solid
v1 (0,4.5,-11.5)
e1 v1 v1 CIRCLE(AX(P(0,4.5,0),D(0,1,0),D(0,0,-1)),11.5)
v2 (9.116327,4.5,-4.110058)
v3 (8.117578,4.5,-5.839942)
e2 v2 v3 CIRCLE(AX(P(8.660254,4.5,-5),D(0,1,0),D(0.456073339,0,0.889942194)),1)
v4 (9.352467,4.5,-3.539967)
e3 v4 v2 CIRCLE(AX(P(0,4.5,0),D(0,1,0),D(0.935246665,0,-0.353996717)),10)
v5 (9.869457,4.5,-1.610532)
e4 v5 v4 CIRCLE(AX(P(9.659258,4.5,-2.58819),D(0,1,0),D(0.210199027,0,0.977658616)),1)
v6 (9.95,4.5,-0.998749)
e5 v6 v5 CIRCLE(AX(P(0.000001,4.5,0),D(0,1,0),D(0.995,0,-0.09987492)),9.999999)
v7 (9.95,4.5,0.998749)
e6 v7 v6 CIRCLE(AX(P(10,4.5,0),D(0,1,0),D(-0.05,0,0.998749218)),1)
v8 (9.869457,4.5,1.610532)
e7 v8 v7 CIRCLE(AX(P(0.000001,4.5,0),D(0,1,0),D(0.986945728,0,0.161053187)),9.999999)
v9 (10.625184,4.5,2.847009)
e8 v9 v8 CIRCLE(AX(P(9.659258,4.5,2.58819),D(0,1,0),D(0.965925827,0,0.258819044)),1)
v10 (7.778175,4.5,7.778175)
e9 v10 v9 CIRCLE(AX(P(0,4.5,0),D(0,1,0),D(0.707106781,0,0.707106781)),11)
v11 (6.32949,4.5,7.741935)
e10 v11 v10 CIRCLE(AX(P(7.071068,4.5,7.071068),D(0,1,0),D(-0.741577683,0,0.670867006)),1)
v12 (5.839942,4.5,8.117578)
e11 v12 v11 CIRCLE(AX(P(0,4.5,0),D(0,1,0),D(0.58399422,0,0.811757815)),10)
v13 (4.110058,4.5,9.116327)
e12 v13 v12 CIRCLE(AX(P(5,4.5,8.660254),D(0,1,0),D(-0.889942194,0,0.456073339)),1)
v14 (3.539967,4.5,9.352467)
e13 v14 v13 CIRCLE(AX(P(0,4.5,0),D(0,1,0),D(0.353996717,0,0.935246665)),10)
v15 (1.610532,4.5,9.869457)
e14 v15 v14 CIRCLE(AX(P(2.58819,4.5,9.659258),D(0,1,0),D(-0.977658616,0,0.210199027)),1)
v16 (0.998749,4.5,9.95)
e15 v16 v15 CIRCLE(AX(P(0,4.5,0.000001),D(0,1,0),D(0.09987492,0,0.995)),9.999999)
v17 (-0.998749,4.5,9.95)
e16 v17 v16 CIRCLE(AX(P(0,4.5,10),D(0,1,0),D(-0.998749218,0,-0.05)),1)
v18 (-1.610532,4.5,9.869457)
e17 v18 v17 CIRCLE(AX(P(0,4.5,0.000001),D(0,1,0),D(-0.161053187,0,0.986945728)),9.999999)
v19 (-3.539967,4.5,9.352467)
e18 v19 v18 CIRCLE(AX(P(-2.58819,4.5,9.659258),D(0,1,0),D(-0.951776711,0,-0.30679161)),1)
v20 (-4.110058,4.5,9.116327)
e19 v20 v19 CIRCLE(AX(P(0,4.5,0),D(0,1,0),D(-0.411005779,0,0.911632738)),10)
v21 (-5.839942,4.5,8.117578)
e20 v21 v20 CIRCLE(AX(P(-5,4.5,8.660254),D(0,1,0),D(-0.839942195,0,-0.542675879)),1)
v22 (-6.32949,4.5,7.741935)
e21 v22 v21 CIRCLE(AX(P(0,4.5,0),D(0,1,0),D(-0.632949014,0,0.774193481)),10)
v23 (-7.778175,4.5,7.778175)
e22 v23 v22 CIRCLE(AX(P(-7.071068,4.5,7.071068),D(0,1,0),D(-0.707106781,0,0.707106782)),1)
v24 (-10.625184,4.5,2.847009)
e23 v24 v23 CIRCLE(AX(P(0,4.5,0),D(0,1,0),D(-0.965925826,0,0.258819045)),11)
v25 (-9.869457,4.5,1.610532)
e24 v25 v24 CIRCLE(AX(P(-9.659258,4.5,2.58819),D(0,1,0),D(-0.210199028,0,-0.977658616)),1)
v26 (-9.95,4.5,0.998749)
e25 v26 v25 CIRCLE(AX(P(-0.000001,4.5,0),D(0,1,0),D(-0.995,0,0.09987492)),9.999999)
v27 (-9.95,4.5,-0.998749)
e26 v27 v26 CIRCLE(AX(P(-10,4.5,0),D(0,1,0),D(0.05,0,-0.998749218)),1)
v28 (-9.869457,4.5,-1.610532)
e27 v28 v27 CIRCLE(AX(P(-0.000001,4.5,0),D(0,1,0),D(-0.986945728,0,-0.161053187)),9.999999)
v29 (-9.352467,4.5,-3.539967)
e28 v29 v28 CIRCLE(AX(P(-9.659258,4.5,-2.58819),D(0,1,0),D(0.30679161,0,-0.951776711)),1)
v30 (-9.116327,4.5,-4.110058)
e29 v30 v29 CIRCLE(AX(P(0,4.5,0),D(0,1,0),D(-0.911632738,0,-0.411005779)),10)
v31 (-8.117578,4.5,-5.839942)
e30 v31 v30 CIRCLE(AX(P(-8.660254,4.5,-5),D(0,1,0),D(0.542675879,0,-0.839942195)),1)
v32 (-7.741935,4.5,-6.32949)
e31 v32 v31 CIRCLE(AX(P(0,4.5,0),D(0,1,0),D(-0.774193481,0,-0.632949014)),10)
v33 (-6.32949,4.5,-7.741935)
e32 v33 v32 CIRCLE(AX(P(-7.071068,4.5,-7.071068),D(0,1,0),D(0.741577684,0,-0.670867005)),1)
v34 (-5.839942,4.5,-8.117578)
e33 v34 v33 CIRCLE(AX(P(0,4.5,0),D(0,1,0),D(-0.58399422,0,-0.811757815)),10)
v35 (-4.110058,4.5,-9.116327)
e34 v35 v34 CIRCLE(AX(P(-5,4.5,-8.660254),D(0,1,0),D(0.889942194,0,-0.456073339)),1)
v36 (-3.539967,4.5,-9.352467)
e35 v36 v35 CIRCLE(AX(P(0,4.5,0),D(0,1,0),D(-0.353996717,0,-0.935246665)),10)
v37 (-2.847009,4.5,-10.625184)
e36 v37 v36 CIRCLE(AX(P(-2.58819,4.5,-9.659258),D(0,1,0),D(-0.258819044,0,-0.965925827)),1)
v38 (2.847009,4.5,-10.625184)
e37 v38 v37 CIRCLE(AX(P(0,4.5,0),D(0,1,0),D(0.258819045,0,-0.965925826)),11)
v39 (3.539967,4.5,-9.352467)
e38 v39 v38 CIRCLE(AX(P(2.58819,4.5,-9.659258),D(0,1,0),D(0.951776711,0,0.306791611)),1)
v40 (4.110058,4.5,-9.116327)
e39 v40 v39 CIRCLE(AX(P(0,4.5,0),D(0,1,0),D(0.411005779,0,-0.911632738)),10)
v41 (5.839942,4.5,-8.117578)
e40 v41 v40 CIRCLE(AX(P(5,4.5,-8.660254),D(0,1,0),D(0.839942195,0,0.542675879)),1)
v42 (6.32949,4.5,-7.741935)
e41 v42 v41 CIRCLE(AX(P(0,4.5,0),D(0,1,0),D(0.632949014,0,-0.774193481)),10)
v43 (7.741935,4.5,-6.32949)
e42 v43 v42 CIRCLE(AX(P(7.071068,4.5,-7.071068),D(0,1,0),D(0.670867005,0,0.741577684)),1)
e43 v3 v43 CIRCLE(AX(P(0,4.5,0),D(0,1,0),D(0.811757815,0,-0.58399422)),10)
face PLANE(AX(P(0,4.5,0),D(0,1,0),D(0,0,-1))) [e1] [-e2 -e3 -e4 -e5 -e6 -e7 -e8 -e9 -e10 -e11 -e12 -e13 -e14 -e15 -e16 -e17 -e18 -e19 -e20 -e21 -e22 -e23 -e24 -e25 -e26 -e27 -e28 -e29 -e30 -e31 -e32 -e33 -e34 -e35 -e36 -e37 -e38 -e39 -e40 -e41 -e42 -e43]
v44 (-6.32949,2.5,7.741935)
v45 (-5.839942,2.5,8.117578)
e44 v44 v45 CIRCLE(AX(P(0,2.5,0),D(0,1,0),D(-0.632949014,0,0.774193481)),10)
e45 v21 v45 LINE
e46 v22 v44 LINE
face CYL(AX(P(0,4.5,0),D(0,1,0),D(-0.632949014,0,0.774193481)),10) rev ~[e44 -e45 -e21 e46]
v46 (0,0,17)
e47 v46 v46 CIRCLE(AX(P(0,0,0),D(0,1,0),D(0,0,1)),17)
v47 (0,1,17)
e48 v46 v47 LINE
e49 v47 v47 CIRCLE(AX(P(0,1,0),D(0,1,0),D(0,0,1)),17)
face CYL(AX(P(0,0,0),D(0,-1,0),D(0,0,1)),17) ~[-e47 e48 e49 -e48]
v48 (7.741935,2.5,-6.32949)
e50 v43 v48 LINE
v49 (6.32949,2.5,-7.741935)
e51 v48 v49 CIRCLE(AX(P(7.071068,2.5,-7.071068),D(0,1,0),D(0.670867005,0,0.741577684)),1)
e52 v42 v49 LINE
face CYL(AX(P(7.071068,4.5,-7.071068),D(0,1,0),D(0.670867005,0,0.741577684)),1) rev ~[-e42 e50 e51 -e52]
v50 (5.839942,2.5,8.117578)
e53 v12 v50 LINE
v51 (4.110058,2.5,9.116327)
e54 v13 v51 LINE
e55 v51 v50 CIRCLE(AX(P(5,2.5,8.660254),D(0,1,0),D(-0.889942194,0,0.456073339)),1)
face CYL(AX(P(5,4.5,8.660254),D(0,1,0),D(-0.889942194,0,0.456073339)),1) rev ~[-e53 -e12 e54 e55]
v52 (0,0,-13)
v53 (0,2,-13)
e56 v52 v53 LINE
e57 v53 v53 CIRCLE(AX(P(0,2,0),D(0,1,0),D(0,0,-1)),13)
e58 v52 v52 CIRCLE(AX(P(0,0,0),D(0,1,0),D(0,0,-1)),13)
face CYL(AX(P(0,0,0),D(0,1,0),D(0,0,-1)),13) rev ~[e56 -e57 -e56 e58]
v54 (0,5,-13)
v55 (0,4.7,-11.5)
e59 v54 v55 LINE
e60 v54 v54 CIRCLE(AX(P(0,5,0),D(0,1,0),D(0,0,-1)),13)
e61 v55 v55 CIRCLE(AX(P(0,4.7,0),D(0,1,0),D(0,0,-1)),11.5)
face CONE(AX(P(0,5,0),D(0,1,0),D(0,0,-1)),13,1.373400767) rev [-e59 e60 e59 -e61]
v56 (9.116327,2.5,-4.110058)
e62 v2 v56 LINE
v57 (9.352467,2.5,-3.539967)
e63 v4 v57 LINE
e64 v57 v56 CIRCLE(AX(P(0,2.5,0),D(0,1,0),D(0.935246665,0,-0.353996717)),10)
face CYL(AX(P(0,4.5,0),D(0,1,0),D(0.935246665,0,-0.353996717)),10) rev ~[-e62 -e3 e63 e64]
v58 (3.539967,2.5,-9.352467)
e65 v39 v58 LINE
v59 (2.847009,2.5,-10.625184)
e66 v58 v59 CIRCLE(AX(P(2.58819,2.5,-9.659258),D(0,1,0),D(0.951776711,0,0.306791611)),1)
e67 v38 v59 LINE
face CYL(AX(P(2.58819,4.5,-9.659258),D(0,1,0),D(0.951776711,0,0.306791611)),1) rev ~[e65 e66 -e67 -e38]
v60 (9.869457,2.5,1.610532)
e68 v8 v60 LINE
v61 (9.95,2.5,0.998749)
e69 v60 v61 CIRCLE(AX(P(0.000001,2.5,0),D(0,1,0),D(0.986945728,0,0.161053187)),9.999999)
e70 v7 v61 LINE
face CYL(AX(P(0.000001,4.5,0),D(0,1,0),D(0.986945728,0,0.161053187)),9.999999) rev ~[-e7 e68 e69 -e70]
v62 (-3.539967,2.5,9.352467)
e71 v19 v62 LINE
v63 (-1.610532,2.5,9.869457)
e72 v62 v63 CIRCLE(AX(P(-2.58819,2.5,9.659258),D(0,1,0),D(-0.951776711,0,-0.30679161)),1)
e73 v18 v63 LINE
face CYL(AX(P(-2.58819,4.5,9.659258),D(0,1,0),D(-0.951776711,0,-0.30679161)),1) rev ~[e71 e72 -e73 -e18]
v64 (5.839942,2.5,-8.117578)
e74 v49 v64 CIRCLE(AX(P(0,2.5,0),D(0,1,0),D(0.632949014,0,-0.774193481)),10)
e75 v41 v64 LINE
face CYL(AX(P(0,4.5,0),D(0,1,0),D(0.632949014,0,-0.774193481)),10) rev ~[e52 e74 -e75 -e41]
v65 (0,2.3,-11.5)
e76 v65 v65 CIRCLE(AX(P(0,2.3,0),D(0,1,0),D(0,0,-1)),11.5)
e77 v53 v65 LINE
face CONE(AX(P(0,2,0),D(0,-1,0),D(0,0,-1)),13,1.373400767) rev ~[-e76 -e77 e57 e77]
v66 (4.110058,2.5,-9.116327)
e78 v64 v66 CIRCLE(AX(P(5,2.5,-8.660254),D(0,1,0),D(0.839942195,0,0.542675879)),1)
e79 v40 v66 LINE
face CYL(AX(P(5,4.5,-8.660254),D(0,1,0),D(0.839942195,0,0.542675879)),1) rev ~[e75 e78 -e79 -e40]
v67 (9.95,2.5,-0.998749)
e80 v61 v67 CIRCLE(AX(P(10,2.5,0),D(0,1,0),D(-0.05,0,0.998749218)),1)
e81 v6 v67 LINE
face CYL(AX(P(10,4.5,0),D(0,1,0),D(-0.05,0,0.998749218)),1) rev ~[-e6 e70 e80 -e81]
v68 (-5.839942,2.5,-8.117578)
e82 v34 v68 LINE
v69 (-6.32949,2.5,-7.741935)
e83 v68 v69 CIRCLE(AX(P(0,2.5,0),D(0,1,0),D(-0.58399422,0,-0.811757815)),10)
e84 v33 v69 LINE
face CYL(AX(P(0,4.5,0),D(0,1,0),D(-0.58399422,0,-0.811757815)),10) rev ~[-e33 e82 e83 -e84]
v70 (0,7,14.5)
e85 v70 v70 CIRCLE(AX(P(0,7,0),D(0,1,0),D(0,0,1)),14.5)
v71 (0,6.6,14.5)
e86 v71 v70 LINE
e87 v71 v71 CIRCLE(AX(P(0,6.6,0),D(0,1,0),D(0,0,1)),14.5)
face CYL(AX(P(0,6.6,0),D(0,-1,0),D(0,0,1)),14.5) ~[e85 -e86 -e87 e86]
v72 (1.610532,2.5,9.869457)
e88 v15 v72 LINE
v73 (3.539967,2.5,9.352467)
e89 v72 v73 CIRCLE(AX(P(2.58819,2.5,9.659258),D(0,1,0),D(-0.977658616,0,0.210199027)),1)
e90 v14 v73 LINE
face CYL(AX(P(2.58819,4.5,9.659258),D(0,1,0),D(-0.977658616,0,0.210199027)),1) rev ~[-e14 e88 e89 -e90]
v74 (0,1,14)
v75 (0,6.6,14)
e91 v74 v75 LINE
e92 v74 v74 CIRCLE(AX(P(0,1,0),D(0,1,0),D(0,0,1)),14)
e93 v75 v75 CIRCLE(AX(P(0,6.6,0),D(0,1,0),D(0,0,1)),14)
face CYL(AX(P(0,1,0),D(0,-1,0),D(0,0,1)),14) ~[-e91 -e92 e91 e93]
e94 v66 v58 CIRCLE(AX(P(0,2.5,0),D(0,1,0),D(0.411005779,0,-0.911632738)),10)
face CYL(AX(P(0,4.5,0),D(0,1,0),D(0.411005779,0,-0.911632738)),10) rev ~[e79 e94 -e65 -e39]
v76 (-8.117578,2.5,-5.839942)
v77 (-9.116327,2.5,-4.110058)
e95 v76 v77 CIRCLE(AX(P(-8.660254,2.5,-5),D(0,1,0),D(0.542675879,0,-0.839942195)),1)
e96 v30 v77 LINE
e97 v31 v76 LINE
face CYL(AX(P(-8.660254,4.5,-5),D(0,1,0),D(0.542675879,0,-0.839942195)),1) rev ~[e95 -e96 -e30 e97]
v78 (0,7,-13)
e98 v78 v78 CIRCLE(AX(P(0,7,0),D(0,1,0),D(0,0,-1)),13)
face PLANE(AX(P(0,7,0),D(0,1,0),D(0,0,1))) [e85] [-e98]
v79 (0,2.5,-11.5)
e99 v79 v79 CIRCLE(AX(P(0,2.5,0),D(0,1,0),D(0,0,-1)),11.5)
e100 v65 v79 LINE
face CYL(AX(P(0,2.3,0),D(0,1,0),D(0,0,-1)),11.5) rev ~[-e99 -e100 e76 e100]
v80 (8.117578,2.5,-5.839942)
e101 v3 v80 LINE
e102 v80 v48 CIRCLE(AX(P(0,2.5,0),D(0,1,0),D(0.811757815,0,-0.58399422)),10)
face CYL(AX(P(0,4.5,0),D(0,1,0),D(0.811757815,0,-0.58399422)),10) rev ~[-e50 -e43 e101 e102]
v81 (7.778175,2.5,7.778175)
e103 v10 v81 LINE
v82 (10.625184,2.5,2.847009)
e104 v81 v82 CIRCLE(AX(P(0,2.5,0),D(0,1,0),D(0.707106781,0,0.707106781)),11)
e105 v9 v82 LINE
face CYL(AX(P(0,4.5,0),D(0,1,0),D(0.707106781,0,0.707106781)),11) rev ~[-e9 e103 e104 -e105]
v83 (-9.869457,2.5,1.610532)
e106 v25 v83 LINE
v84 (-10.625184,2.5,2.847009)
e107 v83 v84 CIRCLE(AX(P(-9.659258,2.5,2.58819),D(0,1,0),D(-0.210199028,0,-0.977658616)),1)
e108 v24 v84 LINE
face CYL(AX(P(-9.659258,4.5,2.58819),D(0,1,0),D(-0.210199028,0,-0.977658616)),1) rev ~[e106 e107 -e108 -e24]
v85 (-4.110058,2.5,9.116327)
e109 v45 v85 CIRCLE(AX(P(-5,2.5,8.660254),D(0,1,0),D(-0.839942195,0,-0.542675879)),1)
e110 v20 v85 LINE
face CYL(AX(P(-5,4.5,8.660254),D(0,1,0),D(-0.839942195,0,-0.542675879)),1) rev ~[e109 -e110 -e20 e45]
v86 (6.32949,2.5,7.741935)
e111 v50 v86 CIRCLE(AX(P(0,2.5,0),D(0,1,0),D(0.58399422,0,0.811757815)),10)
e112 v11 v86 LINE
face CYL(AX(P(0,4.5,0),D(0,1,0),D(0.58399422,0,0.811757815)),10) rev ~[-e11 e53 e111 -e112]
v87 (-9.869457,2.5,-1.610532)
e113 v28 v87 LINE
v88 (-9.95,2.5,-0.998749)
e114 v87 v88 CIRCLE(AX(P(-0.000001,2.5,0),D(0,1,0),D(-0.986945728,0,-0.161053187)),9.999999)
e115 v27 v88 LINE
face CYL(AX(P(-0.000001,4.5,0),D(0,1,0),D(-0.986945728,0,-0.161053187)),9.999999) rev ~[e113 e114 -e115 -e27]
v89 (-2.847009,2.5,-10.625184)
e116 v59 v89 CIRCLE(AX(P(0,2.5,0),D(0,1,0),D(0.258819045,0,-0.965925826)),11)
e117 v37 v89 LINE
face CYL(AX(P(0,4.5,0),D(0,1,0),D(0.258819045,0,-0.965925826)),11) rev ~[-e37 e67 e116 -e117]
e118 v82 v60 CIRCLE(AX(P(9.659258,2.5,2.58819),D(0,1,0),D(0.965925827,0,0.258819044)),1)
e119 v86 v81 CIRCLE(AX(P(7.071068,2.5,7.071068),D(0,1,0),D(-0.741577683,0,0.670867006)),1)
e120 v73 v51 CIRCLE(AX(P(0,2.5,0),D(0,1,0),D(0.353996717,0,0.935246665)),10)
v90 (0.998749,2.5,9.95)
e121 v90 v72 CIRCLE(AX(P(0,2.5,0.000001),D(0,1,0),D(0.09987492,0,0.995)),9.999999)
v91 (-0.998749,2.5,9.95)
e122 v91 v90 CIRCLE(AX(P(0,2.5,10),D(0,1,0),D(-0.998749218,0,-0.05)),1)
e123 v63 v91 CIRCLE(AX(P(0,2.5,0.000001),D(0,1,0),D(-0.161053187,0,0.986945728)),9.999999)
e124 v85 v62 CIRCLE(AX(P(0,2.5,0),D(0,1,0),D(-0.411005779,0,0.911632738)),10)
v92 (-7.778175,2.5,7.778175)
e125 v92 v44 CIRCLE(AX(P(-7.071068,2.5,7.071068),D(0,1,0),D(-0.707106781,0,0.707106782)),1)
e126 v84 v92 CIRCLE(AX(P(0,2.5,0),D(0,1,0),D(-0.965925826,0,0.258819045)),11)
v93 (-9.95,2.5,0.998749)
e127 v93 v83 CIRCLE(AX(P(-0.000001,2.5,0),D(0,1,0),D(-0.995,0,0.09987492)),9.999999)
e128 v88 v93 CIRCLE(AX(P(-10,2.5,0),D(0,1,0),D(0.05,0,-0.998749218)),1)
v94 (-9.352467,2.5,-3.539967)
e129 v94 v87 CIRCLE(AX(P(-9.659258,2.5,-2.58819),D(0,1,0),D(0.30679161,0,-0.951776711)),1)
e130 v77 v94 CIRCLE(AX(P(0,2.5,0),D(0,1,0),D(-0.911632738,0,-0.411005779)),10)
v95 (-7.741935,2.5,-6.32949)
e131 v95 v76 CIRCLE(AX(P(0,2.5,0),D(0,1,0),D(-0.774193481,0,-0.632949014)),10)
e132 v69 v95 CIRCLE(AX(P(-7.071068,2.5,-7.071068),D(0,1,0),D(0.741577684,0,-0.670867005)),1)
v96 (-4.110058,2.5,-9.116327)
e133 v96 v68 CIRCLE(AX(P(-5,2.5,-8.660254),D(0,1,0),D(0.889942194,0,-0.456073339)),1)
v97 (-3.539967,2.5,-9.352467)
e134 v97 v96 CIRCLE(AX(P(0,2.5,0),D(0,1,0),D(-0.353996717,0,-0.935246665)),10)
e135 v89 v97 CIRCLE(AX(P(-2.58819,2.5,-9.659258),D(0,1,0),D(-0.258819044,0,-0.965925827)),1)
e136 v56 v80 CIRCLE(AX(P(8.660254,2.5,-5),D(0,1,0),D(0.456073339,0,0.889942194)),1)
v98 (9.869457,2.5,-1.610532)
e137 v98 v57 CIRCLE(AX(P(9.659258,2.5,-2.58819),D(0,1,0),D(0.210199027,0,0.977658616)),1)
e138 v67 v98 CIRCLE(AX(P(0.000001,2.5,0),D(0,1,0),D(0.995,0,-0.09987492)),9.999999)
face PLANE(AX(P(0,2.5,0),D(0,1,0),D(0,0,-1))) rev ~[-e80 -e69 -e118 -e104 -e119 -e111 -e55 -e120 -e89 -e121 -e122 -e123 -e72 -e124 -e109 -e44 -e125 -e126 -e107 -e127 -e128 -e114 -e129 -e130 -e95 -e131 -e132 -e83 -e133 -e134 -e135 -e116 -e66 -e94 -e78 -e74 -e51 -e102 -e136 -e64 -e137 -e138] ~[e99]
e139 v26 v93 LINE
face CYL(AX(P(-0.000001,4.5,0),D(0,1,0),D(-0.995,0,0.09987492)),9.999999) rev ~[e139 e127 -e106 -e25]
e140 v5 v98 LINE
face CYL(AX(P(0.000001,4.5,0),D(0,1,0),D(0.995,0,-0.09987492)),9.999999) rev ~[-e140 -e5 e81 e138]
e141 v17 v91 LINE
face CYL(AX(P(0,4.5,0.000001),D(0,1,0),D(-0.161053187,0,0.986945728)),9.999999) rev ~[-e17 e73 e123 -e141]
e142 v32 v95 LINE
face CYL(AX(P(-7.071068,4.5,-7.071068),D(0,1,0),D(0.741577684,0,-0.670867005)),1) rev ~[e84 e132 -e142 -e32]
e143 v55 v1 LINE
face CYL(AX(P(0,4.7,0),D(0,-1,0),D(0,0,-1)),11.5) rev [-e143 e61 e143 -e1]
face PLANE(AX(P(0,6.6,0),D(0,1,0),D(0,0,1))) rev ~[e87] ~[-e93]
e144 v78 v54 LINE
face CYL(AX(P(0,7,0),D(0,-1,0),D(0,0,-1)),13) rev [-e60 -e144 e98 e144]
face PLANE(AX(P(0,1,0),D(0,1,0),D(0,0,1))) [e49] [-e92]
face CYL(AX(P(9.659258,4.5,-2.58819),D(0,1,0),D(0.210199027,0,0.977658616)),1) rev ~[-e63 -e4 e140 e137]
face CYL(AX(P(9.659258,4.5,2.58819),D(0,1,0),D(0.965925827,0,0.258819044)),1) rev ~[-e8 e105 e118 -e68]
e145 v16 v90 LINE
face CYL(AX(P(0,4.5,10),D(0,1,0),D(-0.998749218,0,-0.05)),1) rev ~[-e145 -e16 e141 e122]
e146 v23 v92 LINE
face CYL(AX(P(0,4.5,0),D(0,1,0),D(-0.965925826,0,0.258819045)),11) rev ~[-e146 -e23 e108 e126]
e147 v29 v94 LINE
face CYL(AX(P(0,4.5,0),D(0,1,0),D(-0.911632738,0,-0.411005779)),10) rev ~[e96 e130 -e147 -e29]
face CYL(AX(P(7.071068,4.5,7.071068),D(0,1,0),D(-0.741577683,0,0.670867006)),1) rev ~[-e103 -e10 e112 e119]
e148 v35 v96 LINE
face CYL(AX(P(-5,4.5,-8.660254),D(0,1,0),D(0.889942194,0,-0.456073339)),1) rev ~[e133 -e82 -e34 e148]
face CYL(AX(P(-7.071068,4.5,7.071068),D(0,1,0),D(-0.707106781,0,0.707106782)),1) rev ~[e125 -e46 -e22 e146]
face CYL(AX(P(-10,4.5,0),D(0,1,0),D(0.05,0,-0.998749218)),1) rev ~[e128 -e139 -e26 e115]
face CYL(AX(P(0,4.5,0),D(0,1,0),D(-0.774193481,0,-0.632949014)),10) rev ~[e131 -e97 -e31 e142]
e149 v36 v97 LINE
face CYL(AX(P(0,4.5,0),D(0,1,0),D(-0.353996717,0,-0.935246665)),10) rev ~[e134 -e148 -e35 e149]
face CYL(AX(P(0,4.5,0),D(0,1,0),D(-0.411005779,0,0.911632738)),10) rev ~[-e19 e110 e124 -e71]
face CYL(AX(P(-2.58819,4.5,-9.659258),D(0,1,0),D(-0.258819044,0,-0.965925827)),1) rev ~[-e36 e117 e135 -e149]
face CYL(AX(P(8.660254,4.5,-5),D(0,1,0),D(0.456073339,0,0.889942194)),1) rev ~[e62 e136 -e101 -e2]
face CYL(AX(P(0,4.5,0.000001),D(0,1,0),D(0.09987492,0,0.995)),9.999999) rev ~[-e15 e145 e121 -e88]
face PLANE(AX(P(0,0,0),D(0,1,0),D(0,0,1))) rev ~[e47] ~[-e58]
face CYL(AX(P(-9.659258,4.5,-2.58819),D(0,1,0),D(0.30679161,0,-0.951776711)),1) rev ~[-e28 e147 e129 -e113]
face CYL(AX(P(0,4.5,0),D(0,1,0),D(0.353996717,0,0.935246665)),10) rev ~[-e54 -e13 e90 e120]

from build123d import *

# Parameters (mm, degrees)
SKETCH_1_R          = 17
EXTRUDE_1_DEPTH     = 1
SKETCH_2_R          = 14
EXTRUDE_2_DEPTH     = 5.6
SKETCH_3_R          = 14.5
EXTRUDE_3_DEPTH     = 0.4
CUT_EXTRUDE_1_REACH = 26.459


with BuildPart() as part:
    # 草图1 → 凸台-拉伸1 (new body)
    with BuildSketch(Plane(origin=(0, 0, 0), x_dir=(1, 0, 0), z_dir=(0, 1, 0))):
        with Locations(Location((0, 0, 0), (0, 0, 270))):
            Circle(SKETCH_1_R)
    extrude(amount=EXTRUDE_1_DEPTH)

    # 草图2 → 凸台-拉伸2 (add)
    with BuildSketch(Plane(origin=(0, 1, 0), x_dir=(1, 0, 0), z_dir=(0, 1, 0))):
        with Locations(Location((0, 0, 0), (0, 0, 270))):
            Circle(SKETCH_2_R)
    extrude(amount=EXTRUDE_2_DEPTH)

    # 草图3 → 凸台-拉伸3 (add)
    with BuildSketch(Plane(origin=(0, 6.6, 0), x_dir=(1, 0, 0), z_dir=(0, 1, 0))):
        with Locations(Location((0, 0, 0), (0, 0, 270))):
            Circle(SKETCH_3_R)
    extrude(amount=EXTRUDE_3_DEPTH)

    # 草图4 → 切除-旋转1 (revolve, cut)
    with BuildSketch(Plane(origin=(0, 0, 0), x_dir=(0, 0, -1), z_dir=(1, 0, 0))):
        Polygon((0, 0), (13, 0), (13, 2), (11.5, 2.3), (11.5, 2.5), (0, 2.5), align=None)
        Polygon((11.5, 4.7), (11.5, 4.5), (0, 4.5), (0, 7), (13, 7), (13, 5), align=None)
    revolve(axis=Axis((0, 4.5, 0), (0, 1, 0)), mode=Mode.SUBTRACT)

    # 草图5 → 切除-拉伸1 (cut, up to next)
    with BuildSketch(Plane(origin=(0, 4.5, 0), x_dir=(1, 0, 0), z_dir=(0, 1, 0)), mode=Mode.PRIVATE) as cut_extrude_1_sk1:
        with BuildLine():
            ThreePointArc((3.539967162, 9.352466653), (3.466448921, 10.137444482), (2.847009496, 10.625184089))
            ThreePointArc((2.847009496, 10.625184089), (0, 11), (-2.847009496, 10.625184089))
            ThreePointArc((-2.847009496, 10.625184089), (-3.466448921, 10.137444482), (-3.539967162, 9.352466653))
            ThreePointArc((-3.539967162, 9.352466653), (-3.826834324, 9.238795325), (-4.110057805, 9.116327377))
            ThreePointArc((-4.110057805, 9.116327377), (-5.5, 9.526279442), (-5.839942195, 8.117578159))
            ThreePointArc((-5.839942195, 8.117578159), (-6.08761429, 7.933533403), (-6.329490128, 7.741934817))
            ThreePointArc((-6.329490128, 7.741934817), (-7.778174593, 7.778174593), (-7.741934817, 6.329490128))
            ThreePointArc((-7.741934817, 6.329490128), (-7.933533403, 6.08761429), (-8.117578159, 5.839942195))
            ThreePointArc((-8.117578159, 5.839942195), (-9.526279442, 5.5), (-9.116327377, 4.110057805))
            ThreePointArc((-9.116327377, 4.110057805), (-9.238795325, 3.826834324), (-9.352466653, 3.539967162))
            ThreePointArc((-9.352466653, 3.539967162), (-10.625184089, 2.847009496), (-9.86945729, 1.610531835))
            ThreePointArc((-9.86945729, 1.610531835), (-9.914448614, 1.305261922), (-9.95, 0.998749218))
            ThreePointArc((-9.95, 0.998749218), (-11, 0), (-9.95, -0.998749218))
            ThreePointArc((-9.95, -0.998749218), (-9.914448614, -1.305261922), (-9.86945729, -1.610531835))
            ThreePointArc((-9.86945729, -1.610531835), (-10.512508911, -2.066689415), (-10.625184089, -2.847009496))
            ThreePointArc((-10.625184089, -2.847009496), (-9.526279442, -5.5), (-7.778174593, -7.778174593))
            ThreePointArc((-7.778174593, -7.778174593), (-7.046059991, -8.070755067), (-6.329490128, -7.741934817))
            ThreePointArc((-6.329490128, -7.741934817), (-6.08761429, -7.933533403), (-5.839942195, -8.117578159))
            ThreePointArc((-5.839942195, -8.117578159), (-5.5, -9.526279442), (-4.110057805, -9.116327377))
            ThreePointArc((-4.110057805, -9.116327377), (-3.826834324, -9.238795325), (-3.539967162, -9.352466653))
            ThreePointArc((-3.539967162, -9.352466653), (-2.847009496, -10.625184089), (-1.610531835, -9.86945729))
            ThreePointArc((-1.610531835, -9.86945729), (-1.305261922, -9.914448614), (-0.998749218, -9.95))
            ThreePointArc((-0.998749218, -9.95), (0, -11), (0.998749218, -9.95))
            ThreePointArc((0.998749218, -9.95), (1.305261922, -9.914448614), (1.610531835, -9.86945729))
            ThreePointArc((1.610531835, -9.86945729), (2.847009496, -10.625184089), (3.539967162, -9.352466653))
            ThreePointArc((3.539967162, -9.352466653), (3.826834324, -9.238795325), (4.110057805, -9.116327377))
            ThreePointArc((4.110057805, -9.116327377), (5.5, -9.526279442), (5.839942195, -8.117578159))
            ThreePointArc((5.839942195, -8.117578159), (6.08761429, -7.933533403), (6.329490128, -7.741934817))
            ThreePointArc((6.329490128, -7.741934817), (7.046059991, -8.070755067), (7.778174593, -7.778174593))
            ThreePointArc((7.778174593, -7.778174593), (9.526279442, -5.5), (10.625184089, -2.847009496))
            ThreePointArc((10.625184089, -2.847009496), (10.512508911, -2.066689415), (9.86945729, -1.610531835))
            ThreePointArc((9.86945729, -1.610531835), (9.914448614, -1.305261922), (9.95, -0.998749218))
            ThreePointArc((9.95, -0.998749218), (11, 0), (9.95, 0.998749218))
            ThreePointArc((9.95, 0.998749218), (9.914448614, 1.305261922), (9.86945729, 1.610531835))
            ThreePointArc((9.86945729, 1.610531835), (10.625184089, 2.847009496), (9.352466653, 3.539967162))
            ThreePointArc((9.352466653, 3.539967162), (9.238795325, 3.826834324), (9.116327377, 4.110057805))
            ThreePointArc((9.116327377, 4.110057805), (9.526279442, 5.5), (8.117578159, 5.839942195))
            ThreePointArc((8.117578159, 5.839942195), (7.933533403, 6.08761429), (7.741934817, 6.329490128))
            ThreePointArc((7.741934817, 6.329490128), (7.778174593, 7.778174593), (6.329490128, 7.741934817))
            ThreePointArc((6.329490128, 7.741934817), (6.08761429, 7.933533403), (5.839942195, 8.117578159))
            ThreePointArc((5.839942195, 8.117578159), (5.5, 9.526279442), (4.110057805, 9.116327377))
            ThreePointArc((4.110057805, 9.116327377), (3.826834324, 9.238795325), (3.539967162, 9.352466653))
        make_face()
    cut_extrude_1_tool1 = extrude(cut_extrude_1_sk1.sketch, amount=-CUT_EXTRUDE_1_REACH, mode=Mode.PRIVATE) & part.part
    add(cut_extrude_1_tool1.solids().sort_by_distance((0, 4.5, 0))[0], mode=Mode.SUBTRACT)


solid = part.part
